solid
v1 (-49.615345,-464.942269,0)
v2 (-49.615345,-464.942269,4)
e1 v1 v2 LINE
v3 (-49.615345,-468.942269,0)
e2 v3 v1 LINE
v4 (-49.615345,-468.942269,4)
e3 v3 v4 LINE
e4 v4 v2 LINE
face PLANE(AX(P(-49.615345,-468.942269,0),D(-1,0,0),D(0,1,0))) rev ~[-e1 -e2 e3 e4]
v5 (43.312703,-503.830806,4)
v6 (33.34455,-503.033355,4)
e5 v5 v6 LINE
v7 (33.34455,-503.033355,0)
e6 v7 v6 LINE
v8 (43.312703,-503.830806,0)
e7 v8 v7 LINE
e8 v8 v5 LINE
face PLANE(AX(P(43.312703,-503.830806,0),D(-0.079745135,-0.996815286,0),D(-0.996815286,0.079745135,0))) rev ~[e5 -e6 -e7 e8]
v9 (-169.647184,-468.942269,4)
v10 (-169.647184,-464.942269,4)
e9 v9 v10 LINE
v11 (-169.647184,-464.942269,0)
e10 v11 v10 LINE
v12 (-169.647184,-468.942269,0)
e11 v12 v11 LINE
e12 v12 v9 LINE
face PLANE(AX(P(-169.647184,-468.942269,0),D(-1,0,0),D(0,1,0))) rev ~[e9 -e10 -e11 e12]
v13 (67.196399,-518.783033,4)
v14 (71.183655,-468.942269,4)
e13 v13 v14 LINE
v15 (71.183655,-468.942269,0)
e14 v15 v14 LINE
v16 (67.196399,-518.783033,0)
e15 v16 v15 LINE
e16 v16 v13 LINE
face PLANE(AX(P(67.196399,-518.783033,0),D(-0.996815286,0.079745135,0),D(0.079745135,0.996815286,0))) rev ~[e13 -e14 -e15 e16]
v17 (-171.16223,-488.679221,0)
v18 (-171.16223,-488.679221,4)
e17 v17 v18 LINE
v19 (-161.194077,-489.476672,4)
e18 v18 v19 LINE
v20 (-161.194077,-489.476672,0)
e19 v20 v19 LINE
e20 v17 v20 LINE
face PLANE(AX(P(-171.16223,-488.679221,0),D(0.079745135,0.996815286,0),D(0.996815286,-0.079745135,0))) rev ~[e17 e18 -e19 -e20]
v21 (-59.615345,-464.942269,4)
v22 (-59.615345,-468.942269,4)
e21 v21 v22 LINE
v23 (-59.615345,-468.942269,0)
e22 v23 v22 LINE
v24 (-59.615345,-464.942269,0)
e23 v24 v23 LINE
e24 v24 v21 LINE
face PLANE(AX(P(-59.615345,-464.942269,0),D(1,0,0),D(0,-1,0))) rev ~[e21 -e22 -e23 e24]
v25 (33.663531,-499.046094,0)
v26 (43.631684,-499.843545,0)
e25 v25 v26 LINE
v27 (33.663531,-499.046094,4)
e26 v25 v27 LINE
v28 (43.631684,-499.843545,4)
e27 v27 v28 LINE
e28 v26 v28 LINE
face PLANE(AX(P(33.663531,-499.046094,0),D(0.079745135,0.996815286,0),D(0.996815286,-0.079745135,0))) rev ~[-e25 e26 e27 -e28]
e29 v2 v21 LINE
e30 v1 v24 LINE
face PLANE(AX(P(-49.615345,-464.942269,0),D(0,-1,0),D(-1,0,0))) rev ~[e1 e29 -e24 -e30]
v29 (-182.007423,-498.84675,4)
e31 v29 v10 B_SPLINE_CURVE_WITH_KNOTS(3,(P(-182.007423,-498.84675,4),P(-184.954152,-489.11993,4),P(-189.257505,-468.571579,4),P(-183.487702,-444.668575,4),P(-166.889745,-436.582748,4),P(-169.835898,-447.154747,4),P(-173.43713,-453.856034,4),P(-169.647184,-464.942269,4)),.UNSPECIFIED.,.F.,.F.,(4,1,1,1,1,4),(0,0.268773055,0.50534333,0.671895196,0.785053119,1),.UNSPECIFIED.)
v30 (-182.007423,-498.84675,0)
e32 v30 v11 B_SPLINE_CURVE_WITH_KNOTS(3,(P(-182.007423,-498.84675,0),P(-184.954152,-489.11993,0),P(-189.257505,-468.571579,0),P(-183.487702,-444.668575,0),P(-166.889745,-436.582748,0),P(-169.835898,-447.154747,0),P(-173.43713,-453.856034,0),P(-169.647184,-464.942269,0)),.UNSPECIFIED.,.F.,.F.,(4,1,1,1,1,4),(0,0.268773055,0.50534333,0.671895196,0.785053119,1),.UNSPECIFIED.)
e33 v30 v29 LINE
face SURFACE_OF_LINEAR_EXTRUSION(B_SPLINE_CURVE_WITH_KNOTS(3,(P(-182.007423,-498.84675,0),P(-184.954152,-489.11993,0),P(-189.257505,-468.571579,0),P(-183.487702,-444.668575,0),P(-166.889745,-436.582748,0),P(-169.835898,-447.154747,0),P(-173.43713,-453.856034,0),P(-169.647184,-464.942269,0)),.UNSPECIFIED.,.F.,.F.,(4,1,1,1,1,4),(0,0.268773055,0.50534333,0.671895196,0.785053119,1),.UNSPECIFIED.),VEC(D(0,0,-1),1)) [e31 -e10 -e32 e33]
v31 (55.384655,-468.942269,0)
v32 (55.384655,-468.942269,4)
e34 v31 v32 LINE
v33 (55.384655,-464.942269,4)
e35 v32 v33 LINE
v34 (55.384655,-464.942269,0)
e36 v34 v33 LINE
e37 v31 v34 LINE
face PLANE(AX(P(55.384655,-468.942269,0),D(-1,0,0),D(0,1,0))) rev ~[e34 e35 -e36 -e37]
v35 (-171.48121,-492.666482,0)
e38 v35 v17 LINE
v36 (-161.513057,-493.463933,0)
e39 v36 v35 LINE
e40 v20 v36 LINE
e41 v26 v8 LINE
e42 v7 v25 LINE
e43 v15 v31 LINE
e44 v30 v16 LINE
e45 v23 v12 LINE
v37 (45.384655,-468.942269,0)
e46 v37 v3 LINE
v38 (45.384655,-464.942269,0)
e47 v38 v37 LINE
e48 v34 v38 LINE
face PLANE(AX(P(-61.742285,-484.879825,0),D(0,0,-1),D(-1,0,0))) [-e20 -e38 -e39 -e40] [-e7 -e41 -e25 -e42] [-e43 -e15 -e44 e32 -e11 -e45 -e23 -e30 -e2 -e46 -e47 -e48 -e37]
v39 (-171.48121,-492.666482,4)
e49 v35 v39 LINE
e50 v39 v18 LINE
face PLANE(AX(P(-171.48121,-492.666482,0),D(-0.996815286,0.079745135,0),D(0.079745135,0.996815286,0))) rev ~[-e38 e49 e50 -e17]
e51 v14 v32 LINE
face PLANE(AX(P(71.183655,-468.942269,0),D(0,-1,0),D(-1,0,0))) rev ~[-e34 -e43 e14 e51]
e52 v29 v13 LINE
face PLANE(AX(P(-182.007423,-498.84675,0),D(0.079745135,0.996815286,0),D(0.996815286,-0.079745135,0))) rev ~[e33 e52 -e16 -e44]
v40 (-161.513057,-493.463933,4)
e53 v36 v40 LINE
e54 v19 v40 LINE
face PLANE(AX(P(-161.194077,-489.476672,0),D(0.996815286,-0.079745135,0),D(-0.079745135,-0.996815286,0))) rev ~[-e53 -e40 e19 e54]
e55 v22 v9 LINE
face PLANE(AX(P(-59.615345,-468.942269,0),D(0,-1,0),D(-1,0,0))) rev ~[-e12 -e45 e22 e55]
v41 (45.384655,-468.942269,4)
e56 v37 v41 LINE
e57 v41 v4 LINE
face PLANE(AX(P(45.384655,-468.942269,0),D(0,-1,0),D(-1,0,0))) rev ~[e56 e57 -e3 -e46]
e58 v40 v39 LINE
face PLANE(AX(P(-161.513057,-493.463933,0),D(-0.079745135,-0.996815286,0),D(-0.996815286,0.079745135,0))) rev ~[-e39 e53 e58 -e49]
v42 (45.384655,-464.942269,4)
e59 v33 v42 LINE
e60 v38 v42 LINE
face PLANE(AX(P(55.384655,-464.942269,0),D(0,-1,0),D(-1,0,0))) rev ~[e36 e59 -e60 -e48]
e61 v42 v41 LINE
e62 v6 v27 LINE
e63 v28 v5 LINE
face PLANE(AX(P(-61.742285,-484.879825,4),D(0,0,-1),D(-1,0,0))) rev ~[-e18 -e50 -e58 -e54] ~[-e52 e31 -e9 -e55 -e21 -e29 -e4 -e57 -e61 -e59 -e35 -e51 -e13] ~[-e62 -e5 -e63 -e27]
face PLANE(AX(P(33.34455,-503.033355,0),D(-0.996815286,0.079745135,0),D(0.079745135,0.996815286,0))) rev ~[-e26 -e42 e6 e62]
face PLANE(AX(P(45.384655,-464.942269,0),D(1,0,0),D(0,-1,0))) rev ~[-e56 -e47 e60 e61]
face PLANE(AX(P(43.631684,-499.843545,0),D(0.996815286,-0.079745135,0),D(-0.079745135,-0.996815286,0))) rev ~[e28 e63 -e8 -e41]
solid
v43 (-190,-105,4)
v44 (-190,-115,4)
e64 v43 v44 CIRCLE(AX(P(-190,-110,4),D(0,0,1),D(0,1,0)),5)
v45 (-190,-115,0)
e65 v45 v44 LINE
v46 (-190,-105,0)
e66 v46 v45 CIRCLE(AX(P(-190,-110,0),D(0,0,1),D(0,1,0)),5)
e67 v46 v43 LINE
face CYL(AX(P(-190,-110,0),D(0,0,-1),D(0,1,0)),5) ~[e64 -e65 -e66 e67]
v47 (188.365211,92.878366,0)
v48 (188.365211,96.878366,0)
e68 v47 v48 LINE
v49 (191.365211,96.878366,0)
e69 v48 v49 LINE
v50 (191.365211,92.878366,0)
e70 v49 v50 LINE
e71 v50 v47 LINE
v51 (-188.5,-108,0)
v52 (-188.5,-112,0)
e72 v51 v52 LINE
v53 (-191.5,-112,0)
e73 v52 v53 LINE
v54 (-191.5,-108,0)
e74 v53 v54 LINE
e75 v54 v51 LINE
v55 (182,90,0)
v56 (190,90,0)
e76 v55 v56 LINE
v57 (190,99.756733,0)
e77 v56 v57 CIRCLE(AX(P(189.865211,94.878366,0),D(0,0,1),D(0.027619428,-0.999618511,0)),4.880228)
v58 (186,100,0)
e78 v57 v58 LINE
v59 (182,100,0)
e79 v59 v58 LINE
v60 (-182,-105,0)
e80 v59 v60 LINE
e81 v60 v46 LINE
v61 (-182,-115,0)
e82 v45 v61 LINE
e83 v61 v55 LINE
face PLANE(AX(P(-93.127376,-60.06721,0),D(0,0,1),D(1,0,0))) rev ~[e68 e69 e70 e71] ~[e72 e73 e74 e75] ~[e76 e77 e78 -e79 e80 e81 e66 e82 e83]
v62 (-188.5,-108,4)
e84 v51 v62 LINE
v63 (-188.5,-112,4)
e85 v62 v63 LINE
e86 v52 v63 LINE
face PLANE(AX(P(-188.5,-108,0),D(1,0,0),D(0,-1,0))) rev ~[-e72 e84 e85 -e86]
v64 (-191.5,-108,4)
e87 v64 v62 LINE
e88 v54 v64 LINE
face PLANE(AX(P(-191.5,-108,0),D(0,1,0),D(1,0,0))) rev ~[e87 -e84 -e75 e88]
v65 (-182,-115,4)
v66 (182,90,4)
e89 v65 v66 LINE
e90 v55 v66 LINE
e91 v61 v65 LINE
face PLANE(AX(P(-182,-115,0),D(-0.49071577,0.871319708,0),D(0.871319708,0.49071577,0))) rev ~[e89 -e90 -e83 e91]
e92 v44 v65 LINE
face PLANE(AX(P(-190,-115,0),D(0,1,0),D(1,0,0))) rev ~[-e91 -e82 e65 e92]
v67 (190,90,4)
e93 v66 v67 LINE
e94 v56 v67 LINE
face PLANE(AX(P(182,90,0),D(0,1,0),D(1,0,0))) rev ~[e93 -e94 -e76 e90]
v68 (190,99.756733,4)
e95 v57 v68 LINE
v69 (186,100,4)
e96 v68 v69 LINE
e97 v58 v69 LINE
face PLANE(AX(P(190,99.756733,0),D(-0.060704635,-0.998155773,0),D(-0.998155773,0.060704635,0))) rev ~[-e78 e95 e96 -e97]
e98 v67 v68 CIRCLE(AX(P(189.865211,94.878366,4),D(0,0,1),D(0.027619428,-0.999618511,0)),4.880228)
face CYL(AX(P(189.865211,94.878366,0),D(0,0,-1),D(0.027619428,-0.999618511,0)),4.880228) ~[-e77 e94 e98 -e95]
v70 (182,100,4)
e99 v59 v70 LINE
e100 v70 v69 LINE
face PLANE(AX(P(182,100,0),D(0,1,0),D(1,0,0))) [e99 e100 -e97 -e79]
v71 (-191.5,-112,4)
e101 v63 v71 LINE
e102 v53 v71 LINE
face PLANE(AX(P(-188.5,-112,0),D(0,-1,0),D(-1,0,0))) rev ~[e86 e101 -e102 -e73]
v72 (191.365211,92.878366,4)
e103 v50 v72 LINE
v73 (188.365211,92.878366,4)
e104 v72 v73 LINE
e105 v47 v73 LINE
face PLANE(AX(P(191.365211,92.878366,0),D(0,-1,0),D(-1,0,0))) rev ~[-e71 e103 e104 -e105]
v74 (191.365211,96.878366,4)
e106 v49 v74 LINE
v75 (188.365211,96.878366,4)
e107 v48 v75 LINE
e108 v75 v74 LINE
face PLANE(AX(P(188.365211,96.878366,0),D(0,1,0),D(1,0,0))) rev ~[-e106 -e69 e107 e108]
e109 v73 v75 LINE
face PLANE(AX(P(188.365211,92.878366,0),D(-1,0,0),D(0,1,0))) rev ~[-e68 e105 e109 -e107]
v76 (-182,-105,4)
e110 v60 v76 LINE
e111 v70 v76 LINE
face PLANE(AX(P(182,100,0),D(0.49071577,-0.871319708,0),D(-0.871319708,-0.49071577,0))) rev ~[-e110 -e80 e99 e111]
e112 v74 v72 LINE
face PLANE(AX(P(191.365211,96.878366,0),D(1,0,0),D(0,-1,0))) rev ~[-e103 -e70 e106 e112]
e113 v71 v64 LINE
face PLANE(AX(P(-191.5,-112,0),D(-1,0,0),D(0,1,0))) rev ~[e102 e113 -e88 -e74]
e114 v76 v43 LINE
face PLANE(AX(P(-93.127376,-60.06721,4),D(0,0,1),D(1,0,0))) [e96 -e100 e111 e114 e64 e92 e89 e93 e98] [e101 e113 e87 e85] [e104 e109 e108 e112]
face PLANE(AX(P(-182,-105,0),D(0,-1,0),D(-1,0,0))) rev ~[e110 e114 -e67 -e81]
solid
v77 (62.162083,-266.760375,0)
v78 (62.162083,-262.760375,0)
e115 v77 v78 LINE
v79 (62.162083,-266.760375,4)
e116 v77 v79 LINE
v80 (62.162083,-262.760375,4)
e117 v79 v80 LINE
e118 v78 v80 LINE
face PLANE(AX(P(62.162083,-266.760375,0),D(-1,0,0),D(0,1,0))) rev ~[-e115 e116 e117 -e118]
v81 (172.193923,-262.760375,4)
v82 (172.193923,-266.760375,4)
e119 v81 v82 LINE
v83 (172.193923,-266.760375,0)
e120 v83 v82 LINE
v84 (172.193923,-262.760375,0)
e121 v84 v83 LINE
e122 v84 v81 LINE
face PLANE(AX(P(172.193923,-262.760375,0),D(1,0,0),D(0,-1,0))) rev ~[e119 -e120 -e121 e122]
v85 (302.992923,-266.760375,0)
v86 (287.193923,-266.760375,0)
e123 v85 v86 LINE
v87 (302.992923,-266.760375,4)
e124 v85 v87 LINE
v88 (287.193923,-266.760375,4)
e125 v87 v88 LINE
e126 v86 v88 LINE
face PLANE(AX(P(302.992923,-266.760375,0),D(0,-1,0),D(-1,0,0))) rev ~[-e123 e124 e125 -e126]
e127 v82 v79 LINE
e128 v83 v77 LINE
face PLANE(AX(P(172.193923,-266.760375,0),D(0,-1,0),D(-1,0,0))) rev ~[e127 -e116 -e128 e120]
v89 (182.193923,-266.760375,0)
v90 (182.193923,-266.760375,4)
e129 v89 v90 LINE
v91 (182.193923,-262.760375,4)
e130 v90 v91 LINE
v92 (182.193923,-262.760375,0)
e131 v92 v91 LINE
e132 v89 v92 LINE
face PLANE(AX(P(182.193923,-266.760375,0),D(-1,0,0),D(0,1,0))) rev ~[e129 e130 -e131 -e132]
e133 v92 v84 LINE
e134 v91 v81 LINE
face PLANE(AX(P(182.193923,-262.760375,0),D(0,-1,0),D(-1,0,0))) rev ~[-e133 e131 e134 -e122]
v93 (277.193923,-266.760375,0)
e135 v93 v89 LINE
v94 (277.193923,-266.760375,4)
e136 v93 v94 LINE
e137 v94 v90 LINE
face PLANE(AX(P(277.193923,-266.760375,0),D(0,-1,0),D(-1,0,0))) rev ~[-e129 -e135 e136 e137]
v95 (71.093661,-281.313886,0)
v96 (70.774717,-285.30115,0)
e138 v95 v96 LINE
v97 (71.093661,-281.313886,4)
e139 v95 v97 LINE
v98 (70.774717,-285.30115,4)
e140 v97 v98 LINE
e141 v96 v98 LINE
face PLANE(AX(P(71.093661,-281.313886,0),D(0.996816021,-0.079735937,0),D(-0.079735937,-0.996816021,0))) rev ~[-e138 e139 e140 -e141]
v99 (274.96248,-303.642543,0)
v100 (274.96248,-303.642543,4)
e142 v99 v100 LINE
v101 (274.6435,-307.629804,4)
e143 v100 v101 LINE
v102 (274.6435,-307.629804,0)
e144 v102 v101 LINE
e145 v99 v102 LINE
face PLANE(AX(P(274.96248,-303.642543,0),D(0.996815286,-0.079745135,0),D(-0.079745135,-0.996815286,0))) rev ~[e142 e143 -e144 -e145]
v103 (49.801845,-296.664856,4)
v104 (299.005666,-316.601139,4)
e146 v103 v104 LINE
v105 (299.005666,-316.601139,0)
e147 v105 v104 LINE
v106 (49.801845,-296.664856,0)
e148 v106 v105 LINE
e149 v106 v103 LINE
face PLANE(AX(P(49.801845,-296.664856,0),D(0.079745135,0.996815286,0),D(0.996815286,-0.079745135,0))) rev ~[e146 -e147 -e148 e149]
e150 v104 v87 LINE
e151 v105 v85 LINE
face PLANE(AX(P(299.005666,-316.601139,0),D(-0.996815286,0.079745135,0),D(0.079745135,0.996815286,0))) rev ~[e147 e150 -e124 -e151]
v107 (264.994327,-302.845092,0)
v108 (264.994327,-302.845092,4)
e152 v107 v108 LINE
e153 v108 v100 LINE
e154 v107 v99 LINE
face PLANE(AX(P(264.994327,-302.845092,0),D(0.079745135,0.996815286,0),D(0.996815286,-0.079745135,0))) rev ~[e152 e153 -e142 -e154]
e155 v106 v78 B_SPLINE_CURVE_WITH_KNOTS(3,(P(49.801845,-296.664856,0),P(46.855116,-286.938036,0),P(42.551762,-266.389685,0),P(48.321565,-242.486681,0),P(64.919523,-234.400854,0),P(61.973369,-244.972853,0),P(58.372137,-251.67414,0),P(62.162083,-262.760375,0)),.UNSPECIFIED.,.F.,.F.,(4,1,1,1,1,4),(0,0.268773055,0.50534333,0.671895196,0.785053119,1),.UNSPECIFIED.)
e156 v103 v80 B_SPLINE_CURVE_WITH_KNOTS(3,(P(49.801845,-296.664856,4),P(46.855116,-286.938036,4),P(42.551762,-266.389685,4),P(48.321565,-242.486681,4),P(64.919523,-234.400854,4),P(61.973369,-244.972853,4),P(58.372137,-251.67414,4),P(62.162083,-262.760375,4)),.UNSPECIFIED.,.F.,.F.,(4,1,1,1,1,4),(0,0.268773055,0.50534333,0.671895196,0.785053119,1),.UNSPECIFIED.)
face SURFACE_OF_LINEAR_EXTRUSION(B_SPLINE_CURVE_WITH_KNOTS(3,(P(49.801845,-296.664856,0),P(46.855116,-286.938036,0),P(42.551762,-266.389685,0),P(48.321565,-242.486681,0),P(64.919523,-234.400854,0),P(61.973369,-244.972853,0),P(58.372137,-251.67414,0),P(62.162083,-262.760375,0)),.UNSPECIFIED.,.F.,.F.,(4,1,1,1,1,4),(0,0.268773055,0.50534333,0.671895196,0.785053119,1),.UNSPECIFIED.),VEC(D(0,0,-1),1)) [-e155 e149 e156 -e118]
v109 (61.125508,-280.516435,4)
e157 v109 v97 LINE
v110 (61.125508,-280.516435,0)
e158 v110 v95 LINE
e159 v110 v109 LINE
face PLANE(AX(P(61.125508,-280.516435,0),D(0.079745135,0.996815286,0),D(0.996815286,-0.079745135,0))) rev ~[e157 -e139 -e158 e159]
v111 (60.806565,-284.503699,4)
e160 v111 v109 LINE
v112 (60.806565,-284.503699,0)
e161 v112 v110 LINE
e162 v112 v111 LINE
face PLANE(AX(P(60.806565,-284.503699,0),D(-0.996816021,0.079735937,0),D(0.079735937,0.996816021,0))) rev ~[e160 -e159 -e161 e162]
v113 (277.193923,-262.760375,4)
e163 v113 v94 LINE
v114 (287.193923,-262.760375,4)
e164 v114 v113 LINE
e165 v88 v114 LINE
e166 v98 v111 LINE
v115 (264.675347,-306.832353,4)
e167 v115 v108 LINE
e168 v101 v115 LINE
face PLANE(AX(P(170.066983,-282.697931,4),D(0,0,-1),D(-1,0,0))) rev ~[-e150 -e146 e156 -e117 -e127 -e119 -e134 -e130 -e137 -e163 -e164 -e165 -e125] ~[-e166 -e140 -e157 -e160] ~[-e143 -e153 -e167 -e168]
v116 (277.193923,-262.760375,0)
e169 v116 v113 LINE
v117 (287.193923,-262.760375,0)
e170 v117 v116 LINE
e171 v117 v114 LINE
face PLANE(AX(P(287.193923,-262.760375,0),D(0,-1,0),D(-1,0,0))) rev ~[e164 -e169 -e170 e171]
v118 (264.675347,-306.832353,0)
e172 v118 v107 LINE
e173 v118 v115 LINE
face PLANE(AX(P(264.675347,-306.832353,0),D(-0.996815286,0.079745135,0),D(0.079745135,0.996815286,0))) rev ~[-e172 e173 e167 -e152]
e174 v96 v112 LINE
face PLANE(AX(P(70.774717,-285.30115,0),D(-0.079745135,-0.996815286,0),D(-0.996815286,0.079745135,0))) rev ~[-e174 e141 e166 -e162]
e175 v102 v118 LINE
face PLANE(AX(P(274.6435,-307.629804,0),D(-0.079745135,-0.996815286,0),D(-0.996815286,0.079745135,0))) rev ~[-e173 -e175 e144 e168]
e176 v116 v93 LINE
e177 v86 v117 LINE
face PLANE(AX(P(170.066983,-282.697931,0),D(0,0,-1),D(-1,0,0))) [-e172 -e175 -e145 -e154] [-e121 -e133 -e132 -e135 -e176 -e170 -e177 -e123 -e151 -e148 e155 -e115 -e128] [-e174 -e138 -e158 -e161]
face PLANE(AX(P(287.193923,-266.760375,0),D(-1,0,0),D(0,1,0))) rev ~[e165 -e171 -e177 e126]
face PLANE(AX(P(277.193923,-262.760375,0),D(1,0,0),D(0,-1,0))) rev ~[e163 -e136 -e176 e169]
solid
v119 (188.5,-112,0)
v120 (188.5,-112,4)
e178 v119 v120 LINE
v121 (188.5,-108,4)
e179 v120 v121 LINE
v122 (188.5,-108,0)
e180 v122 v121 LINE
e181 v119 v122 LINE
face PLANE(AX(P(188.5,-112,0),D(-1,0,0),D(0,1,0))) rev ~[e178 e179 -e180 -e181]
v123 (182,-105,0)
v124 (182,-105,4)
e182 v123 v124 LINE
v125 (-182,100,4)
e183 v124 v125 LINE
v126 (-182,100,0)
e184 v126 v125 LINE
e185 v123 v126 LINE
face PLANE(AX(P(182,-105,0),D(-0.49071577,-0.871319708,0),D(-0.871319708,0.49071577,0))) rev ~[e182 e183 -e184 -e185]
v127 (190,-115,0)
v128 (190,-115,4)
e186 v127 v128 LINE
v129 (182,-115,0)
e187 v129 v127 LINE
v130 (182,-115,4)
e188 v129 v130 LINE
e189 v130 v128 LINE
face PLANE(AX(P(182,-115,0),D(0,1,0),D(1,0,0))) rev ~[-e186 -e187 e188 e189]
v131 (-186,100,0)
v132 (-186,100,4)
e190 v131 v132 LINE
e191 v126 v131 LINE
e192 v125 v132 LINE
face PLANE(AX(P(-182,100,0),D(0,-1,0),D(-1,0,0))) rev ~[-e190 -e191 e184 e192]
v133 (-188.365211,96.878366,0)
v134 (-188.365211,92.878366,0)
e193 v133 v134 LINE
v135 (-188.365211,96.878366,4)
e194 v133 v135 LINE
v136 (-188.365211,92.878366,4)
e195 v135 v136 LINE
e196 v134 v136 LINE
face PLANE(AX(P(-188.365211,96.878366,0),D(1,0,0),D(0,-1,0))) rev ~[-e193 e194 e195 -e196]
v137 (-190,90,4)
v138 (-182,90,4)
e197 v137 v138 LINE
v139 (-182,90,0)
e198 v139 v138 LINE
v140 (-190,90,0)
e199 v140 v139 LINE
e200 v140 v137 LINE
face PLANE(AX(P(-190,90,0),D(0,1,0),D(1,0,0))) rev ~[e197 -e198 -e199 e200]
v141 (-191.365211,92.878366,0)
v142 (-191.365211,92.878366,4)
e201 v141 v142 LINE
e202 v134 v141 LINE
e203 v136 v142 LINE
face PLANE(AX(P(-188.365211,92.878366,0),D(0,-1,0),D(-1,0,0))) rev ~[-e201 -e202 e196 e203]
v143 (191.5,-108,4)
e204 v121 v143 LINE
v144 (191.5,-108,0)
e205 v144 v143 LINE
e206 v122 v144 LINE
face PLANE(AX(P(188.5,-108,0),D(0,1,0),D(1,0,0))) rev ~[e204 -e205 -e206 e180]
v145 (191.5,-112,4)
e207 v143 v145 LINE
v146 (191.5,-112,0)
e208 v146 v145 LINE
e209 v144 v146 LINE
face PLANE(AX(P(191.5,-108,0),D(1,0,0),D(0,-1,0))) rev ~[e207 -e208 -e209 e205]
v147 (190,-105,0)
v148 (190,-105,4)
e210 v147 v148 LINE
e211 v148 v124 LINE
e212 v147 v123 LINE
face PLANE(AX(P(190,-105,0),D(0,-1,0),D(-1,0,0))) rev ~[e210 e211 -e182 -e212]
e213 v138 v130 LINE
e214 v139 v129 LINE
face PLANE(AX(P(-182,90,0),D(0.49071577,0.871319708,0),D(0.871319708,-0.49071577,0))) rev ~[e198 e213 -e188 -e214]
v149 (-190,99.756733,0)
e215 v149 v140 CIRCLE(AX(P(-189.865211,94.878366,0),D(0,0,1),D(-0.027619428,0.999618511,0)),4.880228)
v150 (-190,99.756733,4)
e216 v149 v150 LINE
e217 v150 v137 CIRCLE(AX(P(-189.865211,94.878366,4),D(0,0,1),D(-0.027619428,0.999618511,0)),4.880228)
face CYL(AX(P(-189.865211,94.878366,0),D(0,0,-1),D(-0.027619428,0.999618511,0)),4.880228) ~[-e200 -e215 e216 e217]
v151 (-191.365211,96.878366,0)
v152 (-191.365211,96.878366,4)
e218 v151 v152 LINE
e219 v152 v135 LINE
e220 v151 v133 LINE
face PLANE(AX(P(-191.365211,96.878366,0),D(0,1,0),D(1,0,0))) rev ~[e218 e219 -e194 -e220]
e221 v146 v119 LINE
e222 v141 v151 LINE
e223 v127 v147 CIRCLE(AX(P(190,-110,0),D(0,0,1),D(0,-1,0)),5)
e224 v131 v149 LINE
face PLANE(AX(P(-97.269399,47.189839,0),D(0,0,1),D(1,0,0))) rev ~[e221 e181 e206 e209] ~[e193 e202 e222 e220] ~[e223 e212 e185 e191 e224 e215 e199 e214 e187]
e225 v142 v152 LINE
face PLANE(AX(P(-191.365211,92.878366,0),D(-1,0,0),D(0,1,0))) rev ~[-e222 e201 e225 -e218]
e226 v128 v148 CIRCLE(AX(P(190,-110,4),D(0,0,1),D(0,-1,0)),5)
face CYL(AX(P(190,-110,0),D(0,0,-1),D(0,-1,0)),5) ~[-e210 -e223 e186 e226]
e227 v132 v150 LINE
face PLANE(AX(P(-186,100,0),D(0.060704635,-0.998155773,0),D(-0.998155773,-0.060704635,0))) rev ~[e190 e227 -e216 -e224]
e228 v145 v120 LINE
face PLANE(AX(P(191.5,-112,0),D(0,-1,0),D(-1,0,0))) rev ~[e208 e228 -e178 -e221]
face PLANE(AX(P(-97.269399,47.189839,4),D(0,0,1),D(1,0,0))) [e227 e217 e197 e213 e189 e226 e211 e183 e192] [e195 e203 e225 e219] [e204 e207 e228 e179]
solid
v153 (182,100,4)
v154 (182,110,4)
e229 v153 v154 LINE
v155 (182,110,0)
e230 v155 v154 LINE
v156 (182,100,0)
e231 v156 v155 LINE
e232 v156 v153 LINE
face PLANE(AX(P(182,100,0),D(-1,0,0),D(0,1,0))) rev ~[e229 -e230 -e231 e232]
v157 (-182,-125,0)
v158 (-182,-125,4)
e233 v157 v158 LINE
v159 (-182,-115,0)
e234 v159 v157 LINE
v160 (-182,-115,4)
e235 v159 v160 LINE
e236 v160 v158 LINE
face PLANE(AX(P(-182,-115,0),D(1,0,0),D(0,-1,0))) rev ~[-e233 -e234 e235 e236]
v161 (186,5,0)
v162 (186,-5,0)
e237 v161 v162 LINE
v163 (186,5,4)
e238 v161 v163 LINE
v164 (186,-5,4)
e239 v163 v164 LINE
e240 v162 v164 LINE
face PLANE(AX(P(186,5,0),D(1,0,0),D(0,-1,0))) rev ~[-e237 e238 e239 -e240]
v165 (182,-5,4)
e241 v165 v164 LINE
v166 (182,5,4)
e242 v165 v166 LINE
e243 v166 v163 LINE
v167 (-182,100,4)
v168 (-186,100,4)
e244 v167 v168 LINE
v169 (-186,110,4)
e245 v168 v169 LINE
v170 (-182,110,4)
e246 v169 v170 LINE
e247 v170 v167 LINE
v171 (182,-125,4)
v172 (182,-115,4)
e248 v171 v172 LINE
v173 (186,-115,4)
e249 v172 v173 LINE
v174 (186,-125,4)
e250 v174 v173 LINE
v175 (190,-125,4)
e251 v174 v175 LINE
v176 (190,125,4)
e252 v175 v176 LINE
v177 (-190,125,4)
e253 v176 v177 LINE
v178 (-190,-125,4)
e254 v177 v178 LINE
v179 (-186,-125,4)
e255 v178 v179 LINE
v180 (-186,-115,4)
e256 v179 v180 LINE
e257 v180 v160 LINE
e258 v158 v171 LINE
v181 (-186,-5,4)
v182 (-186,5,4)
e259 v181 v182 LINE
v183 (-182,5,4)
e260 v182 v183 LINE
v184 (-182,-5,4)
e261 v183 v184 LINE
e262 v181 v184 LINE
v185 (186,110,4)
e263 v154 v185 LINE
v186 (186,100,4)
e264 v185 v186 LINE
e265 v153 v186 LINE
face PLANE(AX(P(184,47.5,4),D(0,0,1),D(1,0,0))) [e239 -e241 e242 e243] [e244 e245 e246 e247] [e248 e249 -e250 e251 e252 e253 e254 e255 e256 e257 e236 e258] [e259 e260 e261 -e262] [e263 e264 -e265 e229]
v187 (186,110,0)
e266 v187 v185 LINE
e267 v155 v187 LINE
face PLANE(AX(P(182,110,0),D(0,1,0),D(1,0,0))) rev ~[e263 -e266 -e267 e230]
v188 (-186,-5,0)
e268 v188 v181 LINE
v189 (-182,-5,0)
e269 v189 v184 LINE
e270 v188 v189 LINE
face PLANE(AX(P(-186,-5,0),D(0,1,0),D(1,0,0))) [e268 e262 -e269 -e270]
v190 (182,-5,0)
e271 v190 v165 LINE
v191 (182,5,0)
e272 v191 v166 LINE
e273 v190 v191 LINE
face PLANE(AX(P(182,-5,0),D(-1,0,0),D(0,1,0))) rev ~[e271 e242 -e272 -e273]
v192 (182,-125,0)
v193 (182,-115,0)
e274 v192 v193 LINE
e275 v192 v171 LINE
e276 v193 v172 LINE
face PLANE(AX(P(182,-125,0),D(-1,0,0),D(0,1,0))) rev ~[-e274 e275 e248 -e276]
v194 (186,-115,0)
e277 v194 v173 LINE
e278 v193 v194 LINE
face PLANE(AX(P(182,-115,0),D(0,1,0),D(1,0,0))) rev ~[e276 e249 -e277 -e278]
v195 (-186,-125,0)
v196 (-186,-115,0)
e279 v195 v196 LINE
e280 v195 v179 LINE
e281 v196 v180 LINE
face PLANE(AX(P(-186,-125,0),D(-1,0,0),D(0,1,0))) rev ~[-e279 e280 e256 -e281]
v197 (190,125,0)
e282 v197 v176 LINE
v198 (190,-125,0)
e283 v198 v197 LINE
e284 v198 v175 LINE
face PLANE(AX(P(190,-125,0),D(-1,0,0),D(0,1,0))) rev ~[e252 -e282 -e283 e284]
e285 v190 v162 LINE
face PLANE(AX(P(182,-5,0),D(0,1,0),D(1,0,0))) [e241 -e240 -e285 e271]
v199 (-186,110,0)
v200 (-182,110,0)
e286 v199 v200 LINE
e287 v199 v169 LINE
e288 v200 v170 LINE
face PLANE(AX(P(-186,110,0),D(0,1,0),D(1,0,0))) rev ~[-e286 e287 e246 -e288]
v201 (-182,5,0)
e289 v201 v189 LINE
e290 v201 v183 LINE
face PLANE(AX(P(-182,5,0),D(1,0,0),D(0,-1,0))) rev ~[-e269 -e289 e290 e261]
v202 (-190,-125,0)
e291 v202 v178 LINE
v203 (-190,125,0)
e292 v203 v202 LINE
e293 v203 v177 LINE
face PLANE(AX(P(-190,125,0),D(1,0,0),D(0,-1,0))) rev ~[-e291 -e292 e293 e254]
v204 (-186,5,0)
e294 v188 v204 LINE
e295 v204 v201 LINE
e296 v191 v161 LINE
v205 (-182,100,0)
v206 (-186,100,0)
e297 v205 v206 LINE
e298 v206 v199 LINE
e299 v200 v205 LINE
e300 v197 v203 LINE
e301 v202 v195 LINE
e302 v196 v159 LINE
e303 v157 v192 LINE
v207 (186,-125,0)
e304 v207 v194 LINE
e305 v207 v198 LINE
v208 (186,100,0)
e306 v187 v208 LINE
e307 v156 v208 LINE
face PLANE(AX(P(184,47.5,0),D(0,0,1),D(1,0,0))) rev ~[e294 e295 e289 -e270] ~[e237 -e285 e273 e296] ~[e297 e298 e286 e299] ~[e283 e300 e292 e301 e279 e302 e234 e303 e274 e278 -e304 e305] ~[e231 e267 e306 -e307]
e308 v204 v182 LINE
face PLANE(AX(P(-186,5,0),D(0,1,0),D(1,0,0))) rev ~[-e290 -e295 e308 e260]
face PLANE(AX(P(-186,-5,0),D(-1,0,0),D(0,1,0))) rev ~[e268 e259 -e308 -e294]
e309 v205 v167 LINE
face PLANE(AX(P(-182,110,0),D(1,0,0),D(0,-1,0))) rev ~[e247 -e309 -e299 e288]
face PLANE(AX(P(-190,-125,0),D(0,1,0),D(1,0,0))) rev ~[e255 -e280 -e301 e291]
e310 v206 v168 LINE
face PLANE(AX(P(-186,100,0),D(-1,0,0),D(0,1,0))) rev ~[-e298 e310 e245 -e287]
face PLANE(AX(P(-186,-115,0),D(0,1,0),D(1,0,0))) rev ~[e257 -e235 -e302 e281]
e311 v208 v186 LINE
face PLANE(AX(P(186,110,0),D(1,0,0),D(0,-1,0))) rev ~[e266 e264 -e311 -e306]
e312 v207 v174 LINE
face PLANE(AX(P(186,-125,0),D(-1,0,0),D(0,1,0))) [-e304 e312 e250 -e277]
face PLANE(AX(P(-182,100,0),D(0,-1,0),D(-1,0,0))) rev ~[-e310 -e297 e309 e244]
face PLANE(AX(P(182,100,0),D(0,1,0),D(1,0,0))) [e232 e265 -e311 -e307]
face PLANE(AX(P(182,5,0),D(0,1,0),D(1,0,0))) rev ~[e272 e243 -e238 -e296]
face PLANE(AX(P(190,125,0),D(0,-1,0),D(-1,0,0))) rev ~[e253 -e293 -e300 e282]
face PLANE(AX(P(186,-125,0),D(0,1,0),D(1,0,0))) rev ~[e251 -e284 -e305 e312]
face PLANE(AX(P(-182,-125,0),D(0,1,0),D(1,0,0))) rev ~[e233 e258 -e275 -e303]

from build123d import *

# Parameters (mm, degrees)
F0_W     = 4
F0_H     = 85
F0_H_2   = 100
F0_H_3   = 15
F0_H_4   = 10
F0_W_2   = 1.6347891092
F0_H_5   = 4
F0_W_3   = 1.5
F1_DEPTH = 4
F2_DEPTH = 4
F3_DEPTH = 4
F4_DEPTH = 4
F5_DEPTH = 4


with BuildPart() as f1:
    # F0 (on Top) → F1 (new body)
    with BuildSketch(Plane.XY):
        with Locations((184, 47.5)):
            Rectangle(F0_W, F0_H)
        Polygon((182, -115), (182, -105), (8.8780487805, -7.5), (0, -12.5), align=None)
        Polygon((182, 110), (182, 125), (-182, 125), (-182, 110), (-182, 100), (0, -2.5), (182, 100), align=None)
        Polygon((-186, 110), (-186, 125), (-190, 125), (-190, 99.7567328215), (-186, 100), align=None)
        Polygon((182, 90), (182, 100), (0, -2.5), (8.8780487805, -7.5), align=None)
        with Locations((184, -55)):
            Rectangle(F0_W, F0_H_2)
        with Locations((-184, 47.5)):
            Rectangle(F0_W, F0_H)
        with Locations((184, 117.5)):
            Rectangle(F0_W, F0_H_3)
        Polygon((182, 5), (182, 90), (8.8780487805, -7.5), (182, -105), (182, -5), align=None)
        with Locations((-184, -55)):
            Rectangle(F0_W, F0_H_2)
        with Locations((-184, 117.5)):
            Rectangle(F0_W, F0_H_3)
        Polygon((-182, -105), (-8.8780487805, -7.5), (-182, 90), (-182, 5), (-182, -5), align=None)
        Polygon((182, -125), (182, -115), (0, -12.5), (-182, -115), (-182, -125), align=None)
        Polygon((0, -12.5), (-8.8780487805, -7.5), (-182, -105), (-182, -115), align=None)
        Polygon((8.8780487805, -7.5), (0, -2.5), (-8.8780487805, -7.5), (0, -12.5), align=None)
        Polygon((190, -105), (190, 90), (186, 90), (186, 5), (186, -5), (186, -105), align=None)
        Polygon((190, 99.7567328215), (190, 125), (186, 125), (186, 110), (186, 100), align=None)
        Polygon((-182, -115), (-182, -105), (-186, -105), (-190, -105), (-190, -108), (-188.5, -108), (-188.5, -112), (-190, -112), (-190, -115), (-186, -115), align=None)
        with Locations((184, 95)):
            Rectangle(F0_W, F0_H_4)
        with Locations((-188, -120)):
            Rectangle(F0_W, F0_H_4)
        Polygon((190, 96.8783664107), (190, 99.7567328215), (186, 100), (186, 90), (190, 90), (190, 92.8783664107), (188.3652108908, 92.8783664107), (188.3652108908, 96.8783664107), align=None)
        Polygon((190, -108), (190, -105), (186, -105), (186, -115), (190, -115), (190, -112), (188.5, -112), (188.5, -108), align=None)
        with Locations((184, -110)):
            Rectangle(F0_W, F0_H_4)
        with Locations((188, -120)):
            Rectangle(F0_W, F0_H_4)
        Polygon((-8.8780487805, -7.5), (0, -2.5), (-182, 100), (-186, 100), (-190, 99.7567328215), (-190, 96.8783664107), (-188.3652108908, 96.8783664107), (-188.3652108908, 92.8783664107), (-190, 92.8783664107), (-190, 90), (-186, 90), (-182, 90), align=None)
        Polygon((-186, 90), (-190, 90), (-190, -105), (-186, -105), (-186, -5), (-186, 5), align=None)
        Polygon((-188.5, -108), (-190, -108), (-190, -110), (-190, -112), (-188.5, -112), align=None)
        with Locations((-189.1826054454, 94.8783664107)):
            Rectangle(F0_W_2, F0_H_5)
        with Locations((189.1826054454, 94.8783664107)):
            Rectangle(F0_W_2, F0_H_5)
        with Locations((189.25, -110)):
            Rectangle(F0_W_3, F0_H_5)
    extrude(amount=F1_DEPTH)


with BuildPart() as f2:
    # F0 (on Top) → F2 (new body)
    with BuildSketch(Plane.XY):
        Polygon((-8.8780487805, -7.5), (0, -2.5), (-182, 100), (-186, 100), (-190, 99.7567328215), (-190, 96.8783664107), (-188.3652108908, 96.8783664107), (-188.3652108908, 92.8783664107), (-190, 92.8783664107), (-190, 90), (-186, 90), (-182, 90), align=None)
        with BuildLine():
            Line((-190, 96.8783664107), (-190, 99.7567328215))
            ThreePointArc((-190, 99.7567328215), (-194.7454390557, 94.8783664107), (-190, 90))
            Line((-190, 90), (-190, 92.8783664107))
            Line((-190, 92.8783664107), (-191.3652108908, 92.8783664107))
            Line((-191.3652108908, 92.8783664107), (-191.3652108908, 96.8783664107))
            Line((-191.3652108908, 96.8783664107), (-190, 96.8783664107))
        make_face()
        Polygon((8.8780487805, -7.5), (0, -2.5), (-8.8780487805, -7.5), (0, -12.5), align=None)
        Polygon((182, -115), (182, -105), (8.8780487805, -7.5), (0, -12.5), align=None)
        with Locations((184, -110)):
            Rectangle(F0_W, F0_H_4)
        with BuildLine():
            ThreePointArc((190, -115), (195, -110), (190, -105))
            Line((190, -105), (190, -108))
            Line((190, -108), (191.5, -108))
            Line((191.5, -108), (191.5, -112))
            Line((191.5, -112), (190, -112))
            Line((190, -112), (190, -115))
        make_face()
        Polygon((190, -108), (190, -105), (186, -105), (186, -115), (190, -115), (190, -112), (188.5, -112), (188.5, -108), align=None)
    extrude(amount=F2_DEPTH)


with BuildPart() as f3:
    # F0 (on Top) → F3 (new body)
    with BuildSketch(Plane.XY):
        Polygon((0, -12.5), (-8.8780487805, -7.5), (-182, -105), (-182, -115), align=None)
        Polygon((-182, -115), (-182, -105), (-186, -105), (-190, -105), (-190, -108), (-188.5, -108), (-188.5, -112), (-190, -112), (-190, -115), (-186, -115), align=None)
        with BuildLine():
            Line((-190, -108), (-190, -105))
            ThreePointArc((-190, -105), (-195, -110), (-190, -115))
            Line((-190, -115), (-190, -112))
            Line((-190, -112), (-191.5, -112))
            Line((-191.5, -112), (-191.5, -108))
            Line((-191.5, -108), (-190, -108))
        make_face()
        Polygon((8.8780487805, -7.5), (0, -2.5), (-8.8780487805, -7.5), (0, -12.5), align=None)
        Polygon((182, 90), (182, 100), (0, -2.5), (8.8780487805, -7.5), align=None)
        with Locations((184, 95)):
            Rectangle(F0_W, F0_H_4)
        Polygon((190, 96.8783664107), (190, 99.7567328215), (186, 100), (186, 90), (190, 90), (190, 92.8783664107), (188.3652108908, 92.8783664107), (188.3652108908, 96.8783664107), align=None)
        with BuildLine():
            ThreePointArc((190, 90), (194.7454390557, 94.8783664107), (190, 99.7567328215))
            Line((190, 99.7567328215), (190, 96.8783664107))
            Line((190, 96.8783664107), (191.3652108908, 96.8783664107))
            Line((191.3652108908, 96.8783664107), (191.3652108908, 92.8783664107))
            Line((191.3652108908, 92.8783664107), (190, 92.8783664107))
            Line((190, 92.8783664107), (190, 90))
        make_face()
    extrude(amount=F3_DEPTH)


with BuildPart() as f4:
    # F0 (on Top) → F4 (new body)
    with BuildSketch(Plane.XY):
        with BuildLine():
            add(Edge.make_bspline(
                [(49.8018445918, -296.664855781), (46.8551157009, -286.9380358047), (42.5517620483, -266.389684647), (48.3215650847, -242.4866813126), (64.9195225978, -234.4008538552), (61.9733688582, -244.9728526655), (58.372137132, -251.6741404231), (62.1620829211, -262.7603751421)],
                knots=[0, 0, 0, 0, 0.268773055, 0.5053433296, 0.6718951956, 0.7850531186, 1, 1, 1, 1], degree=3))
            Line((49.8018445918, -296.664855781), (299.0056659804, -316.6011394198))
            Line((299.0056659804, -316.6011394198), (302.9929227081, -266.7603751421))
            Line((302.9929227081, -266.7603751421), (287.1939227081, -266.7603751421))
            Line((287.1939227081, -266.7603751421), (287.1939227081, -262.7603751421))
            Line((287.1939227081, -262.7603751421), (277.1939227081, -262.7603751421))
            Line((277.1939227081, -262.7603751421), (277.1939227081, -266.7603751421))
            Line((277.1939227081, -266.7603751421), (182.1939227081, -266.7603751421))
            Line((182.1939227081, -266.7603751421), (182.1939227081, -262.7603751421))
            Line((182.1939227081, -262.7603751421), (172.1939227081, -262.7603751421))
            Line((172.1939227081, -262.7603751421), (172.1939227081, -266.7603751421))
            Line((172.1939227081, -266.7603751421), (62.1620829211, -266.7603751421))
            Line((62.1620829211, -266.7603751421), (62.1620829211, -262.7603751421))
        make_face()
        Polygon((60.3280570349, -290.4845876194), (60.6470375731, -286.4973264772), (70.6151904286, -287.2947778227), (70.2962098904, -291.2820389649), align=None, mode=Mode.SUBTRACT)
        Polygon((70.7747174875, -285.3011501948), (60.8065646316, -284.5036988492), (61.1255083804, -280.5164347638), (71.0936612364, -281.3138861094), align=None, mode=Mode.SUBTRACT)
        Polygon((274.6434997834, -307.6298040571), (264.6753469279, -306.8323527115), (264.9943274661, -302.8450915693), (274.9624803216, -303.6425429148), align=None, mode=Mode.SUBTRACT)
        Polygon((275.440951129, -297.6616512015), (275.1219705907, -301.6489123437), (265.1538177352, -300.8514609982), (265.4727982734, -296.864199856), align=None, mode=Mode.SUBTRACT)
        Polygon((265.1538177352, -300.8514609982), (275.1219705907, -301.6489123437), (275.440951129, -297.6616512015), (265.4727982734, -296.864199856), align=None)
        Polygon((70.6151904286, -287.2947778227), (60.6470375731, -286.4973264772), (60.3280570349, -290.4845876194), (70.2962098904, -291.2820389649), align=None)
    extrude(amount=F4_DEPTH)


with BuildPart() as f5:
    # F0 (on Top) → F5 (new body)
    with BuildSketch(Plane.XY):
        with BuildLine():
            add(Edge.make_bspline(
                [(-182.0074226772, -498.846749809), (-184.9541515682, -489.1199298326), (-189.2575052207, -468.571578675), (-183.4877021844, -444.6685753405), (-166.8897446713, -436.5827478832), (-169.8358984108, -447.1547466935), (-173.4371301371, -453.8560344511), (-169.6471843479, -464.94226917)],
                knots=[0, 0, 0, 0, 0.268773055, 0.5053433296, 0.6718951956, 0.7850531186, 1, 1, 1, 1], degree=3))
            Line((-182.0074226772, -498.846749809), (67.1963987113, -518.7830334478))
            Line((67.1963987113, -518.7830334478), (71.1836554391, -468.94226917))
            Line((71.1836554391, -468.94226917), (55.3846554391, -468.94226917))
            Line((55.3846554391, -468.94226917), (55.3846554391, -464.94226917))
            Line((55.3846554391, -464.94226917), (45.3846554391, -464.94226917))
            Line((45.3846554391, -464.94226917), (45.3846554391, -468.94226917))
            Line((45.3846554391, -468.94226917), (-49.6153445609, -468.94226917))
            Line((-49.6153445609, -468.94226917), (-49.6153445609, -464.94226917))
            Line((-49.6153445609, -464.94226917), (-59.6153445609, -464.94226917))
            Line((-59.6153445609, -464.94226917), (-59.6153445609, -468.94226917))
            Line((-59.6153445609, -468.94226917), (-169.6471843479, -468.94226917))
            Line((-169.6471843479, -468.94226917), (-169.6471843479, -464.94226917))
        make_face()
        Polygon((-171.4812102342, -492.6664816473), (-171.162229696, -488.6792205051), (-161.1940768404, -489.4766718507), (-161.5130573786, -493.4639329929), align=None, mode=Mode.SUBTRACT)
        Polygon((-161.0345497815, -487.4830442227), (-171.0027026375, -486.6855928771), (-170.6837588886, -482.6983287918), (-160.7156060327, -483.4957801374), align=None, mode=Mode.SUBTRACT)
        Polygon((42.8342325144, -509.811698085), (32.8660796588, -509.0142467395), (33.185060197, -505.0269855972), (43.1532130526, -505.8244369428), align=None, mode=Mode.SUBTRACT)
        Polygon((43.6316838599, -499.8435452295), (43.3127033217, -503.8308063717), (33.3445504662, -503.0333550261), (33.6635310044, -499.0460938839), align=None, mode=Mode.SUBTRACT)
        Polygon((-170.6837588886, -482.6983287918), (-171.0027026375, -486.6855928771), (-161.0345497815, -487.4830442227), (-160.7156060327, -483.4957801374), align=None)
        Polygon((33.185060197, -505.0269855972), (32.8660796588, -509.0142467395), (42.8342325144, -509.811698085), (43.1532130526, -505.8244369428), align=None)
    extrude(amount=F5_DEPTH)


solid = Compound([f1.part, f2.part, f3.part, f4.part, f5.part])
